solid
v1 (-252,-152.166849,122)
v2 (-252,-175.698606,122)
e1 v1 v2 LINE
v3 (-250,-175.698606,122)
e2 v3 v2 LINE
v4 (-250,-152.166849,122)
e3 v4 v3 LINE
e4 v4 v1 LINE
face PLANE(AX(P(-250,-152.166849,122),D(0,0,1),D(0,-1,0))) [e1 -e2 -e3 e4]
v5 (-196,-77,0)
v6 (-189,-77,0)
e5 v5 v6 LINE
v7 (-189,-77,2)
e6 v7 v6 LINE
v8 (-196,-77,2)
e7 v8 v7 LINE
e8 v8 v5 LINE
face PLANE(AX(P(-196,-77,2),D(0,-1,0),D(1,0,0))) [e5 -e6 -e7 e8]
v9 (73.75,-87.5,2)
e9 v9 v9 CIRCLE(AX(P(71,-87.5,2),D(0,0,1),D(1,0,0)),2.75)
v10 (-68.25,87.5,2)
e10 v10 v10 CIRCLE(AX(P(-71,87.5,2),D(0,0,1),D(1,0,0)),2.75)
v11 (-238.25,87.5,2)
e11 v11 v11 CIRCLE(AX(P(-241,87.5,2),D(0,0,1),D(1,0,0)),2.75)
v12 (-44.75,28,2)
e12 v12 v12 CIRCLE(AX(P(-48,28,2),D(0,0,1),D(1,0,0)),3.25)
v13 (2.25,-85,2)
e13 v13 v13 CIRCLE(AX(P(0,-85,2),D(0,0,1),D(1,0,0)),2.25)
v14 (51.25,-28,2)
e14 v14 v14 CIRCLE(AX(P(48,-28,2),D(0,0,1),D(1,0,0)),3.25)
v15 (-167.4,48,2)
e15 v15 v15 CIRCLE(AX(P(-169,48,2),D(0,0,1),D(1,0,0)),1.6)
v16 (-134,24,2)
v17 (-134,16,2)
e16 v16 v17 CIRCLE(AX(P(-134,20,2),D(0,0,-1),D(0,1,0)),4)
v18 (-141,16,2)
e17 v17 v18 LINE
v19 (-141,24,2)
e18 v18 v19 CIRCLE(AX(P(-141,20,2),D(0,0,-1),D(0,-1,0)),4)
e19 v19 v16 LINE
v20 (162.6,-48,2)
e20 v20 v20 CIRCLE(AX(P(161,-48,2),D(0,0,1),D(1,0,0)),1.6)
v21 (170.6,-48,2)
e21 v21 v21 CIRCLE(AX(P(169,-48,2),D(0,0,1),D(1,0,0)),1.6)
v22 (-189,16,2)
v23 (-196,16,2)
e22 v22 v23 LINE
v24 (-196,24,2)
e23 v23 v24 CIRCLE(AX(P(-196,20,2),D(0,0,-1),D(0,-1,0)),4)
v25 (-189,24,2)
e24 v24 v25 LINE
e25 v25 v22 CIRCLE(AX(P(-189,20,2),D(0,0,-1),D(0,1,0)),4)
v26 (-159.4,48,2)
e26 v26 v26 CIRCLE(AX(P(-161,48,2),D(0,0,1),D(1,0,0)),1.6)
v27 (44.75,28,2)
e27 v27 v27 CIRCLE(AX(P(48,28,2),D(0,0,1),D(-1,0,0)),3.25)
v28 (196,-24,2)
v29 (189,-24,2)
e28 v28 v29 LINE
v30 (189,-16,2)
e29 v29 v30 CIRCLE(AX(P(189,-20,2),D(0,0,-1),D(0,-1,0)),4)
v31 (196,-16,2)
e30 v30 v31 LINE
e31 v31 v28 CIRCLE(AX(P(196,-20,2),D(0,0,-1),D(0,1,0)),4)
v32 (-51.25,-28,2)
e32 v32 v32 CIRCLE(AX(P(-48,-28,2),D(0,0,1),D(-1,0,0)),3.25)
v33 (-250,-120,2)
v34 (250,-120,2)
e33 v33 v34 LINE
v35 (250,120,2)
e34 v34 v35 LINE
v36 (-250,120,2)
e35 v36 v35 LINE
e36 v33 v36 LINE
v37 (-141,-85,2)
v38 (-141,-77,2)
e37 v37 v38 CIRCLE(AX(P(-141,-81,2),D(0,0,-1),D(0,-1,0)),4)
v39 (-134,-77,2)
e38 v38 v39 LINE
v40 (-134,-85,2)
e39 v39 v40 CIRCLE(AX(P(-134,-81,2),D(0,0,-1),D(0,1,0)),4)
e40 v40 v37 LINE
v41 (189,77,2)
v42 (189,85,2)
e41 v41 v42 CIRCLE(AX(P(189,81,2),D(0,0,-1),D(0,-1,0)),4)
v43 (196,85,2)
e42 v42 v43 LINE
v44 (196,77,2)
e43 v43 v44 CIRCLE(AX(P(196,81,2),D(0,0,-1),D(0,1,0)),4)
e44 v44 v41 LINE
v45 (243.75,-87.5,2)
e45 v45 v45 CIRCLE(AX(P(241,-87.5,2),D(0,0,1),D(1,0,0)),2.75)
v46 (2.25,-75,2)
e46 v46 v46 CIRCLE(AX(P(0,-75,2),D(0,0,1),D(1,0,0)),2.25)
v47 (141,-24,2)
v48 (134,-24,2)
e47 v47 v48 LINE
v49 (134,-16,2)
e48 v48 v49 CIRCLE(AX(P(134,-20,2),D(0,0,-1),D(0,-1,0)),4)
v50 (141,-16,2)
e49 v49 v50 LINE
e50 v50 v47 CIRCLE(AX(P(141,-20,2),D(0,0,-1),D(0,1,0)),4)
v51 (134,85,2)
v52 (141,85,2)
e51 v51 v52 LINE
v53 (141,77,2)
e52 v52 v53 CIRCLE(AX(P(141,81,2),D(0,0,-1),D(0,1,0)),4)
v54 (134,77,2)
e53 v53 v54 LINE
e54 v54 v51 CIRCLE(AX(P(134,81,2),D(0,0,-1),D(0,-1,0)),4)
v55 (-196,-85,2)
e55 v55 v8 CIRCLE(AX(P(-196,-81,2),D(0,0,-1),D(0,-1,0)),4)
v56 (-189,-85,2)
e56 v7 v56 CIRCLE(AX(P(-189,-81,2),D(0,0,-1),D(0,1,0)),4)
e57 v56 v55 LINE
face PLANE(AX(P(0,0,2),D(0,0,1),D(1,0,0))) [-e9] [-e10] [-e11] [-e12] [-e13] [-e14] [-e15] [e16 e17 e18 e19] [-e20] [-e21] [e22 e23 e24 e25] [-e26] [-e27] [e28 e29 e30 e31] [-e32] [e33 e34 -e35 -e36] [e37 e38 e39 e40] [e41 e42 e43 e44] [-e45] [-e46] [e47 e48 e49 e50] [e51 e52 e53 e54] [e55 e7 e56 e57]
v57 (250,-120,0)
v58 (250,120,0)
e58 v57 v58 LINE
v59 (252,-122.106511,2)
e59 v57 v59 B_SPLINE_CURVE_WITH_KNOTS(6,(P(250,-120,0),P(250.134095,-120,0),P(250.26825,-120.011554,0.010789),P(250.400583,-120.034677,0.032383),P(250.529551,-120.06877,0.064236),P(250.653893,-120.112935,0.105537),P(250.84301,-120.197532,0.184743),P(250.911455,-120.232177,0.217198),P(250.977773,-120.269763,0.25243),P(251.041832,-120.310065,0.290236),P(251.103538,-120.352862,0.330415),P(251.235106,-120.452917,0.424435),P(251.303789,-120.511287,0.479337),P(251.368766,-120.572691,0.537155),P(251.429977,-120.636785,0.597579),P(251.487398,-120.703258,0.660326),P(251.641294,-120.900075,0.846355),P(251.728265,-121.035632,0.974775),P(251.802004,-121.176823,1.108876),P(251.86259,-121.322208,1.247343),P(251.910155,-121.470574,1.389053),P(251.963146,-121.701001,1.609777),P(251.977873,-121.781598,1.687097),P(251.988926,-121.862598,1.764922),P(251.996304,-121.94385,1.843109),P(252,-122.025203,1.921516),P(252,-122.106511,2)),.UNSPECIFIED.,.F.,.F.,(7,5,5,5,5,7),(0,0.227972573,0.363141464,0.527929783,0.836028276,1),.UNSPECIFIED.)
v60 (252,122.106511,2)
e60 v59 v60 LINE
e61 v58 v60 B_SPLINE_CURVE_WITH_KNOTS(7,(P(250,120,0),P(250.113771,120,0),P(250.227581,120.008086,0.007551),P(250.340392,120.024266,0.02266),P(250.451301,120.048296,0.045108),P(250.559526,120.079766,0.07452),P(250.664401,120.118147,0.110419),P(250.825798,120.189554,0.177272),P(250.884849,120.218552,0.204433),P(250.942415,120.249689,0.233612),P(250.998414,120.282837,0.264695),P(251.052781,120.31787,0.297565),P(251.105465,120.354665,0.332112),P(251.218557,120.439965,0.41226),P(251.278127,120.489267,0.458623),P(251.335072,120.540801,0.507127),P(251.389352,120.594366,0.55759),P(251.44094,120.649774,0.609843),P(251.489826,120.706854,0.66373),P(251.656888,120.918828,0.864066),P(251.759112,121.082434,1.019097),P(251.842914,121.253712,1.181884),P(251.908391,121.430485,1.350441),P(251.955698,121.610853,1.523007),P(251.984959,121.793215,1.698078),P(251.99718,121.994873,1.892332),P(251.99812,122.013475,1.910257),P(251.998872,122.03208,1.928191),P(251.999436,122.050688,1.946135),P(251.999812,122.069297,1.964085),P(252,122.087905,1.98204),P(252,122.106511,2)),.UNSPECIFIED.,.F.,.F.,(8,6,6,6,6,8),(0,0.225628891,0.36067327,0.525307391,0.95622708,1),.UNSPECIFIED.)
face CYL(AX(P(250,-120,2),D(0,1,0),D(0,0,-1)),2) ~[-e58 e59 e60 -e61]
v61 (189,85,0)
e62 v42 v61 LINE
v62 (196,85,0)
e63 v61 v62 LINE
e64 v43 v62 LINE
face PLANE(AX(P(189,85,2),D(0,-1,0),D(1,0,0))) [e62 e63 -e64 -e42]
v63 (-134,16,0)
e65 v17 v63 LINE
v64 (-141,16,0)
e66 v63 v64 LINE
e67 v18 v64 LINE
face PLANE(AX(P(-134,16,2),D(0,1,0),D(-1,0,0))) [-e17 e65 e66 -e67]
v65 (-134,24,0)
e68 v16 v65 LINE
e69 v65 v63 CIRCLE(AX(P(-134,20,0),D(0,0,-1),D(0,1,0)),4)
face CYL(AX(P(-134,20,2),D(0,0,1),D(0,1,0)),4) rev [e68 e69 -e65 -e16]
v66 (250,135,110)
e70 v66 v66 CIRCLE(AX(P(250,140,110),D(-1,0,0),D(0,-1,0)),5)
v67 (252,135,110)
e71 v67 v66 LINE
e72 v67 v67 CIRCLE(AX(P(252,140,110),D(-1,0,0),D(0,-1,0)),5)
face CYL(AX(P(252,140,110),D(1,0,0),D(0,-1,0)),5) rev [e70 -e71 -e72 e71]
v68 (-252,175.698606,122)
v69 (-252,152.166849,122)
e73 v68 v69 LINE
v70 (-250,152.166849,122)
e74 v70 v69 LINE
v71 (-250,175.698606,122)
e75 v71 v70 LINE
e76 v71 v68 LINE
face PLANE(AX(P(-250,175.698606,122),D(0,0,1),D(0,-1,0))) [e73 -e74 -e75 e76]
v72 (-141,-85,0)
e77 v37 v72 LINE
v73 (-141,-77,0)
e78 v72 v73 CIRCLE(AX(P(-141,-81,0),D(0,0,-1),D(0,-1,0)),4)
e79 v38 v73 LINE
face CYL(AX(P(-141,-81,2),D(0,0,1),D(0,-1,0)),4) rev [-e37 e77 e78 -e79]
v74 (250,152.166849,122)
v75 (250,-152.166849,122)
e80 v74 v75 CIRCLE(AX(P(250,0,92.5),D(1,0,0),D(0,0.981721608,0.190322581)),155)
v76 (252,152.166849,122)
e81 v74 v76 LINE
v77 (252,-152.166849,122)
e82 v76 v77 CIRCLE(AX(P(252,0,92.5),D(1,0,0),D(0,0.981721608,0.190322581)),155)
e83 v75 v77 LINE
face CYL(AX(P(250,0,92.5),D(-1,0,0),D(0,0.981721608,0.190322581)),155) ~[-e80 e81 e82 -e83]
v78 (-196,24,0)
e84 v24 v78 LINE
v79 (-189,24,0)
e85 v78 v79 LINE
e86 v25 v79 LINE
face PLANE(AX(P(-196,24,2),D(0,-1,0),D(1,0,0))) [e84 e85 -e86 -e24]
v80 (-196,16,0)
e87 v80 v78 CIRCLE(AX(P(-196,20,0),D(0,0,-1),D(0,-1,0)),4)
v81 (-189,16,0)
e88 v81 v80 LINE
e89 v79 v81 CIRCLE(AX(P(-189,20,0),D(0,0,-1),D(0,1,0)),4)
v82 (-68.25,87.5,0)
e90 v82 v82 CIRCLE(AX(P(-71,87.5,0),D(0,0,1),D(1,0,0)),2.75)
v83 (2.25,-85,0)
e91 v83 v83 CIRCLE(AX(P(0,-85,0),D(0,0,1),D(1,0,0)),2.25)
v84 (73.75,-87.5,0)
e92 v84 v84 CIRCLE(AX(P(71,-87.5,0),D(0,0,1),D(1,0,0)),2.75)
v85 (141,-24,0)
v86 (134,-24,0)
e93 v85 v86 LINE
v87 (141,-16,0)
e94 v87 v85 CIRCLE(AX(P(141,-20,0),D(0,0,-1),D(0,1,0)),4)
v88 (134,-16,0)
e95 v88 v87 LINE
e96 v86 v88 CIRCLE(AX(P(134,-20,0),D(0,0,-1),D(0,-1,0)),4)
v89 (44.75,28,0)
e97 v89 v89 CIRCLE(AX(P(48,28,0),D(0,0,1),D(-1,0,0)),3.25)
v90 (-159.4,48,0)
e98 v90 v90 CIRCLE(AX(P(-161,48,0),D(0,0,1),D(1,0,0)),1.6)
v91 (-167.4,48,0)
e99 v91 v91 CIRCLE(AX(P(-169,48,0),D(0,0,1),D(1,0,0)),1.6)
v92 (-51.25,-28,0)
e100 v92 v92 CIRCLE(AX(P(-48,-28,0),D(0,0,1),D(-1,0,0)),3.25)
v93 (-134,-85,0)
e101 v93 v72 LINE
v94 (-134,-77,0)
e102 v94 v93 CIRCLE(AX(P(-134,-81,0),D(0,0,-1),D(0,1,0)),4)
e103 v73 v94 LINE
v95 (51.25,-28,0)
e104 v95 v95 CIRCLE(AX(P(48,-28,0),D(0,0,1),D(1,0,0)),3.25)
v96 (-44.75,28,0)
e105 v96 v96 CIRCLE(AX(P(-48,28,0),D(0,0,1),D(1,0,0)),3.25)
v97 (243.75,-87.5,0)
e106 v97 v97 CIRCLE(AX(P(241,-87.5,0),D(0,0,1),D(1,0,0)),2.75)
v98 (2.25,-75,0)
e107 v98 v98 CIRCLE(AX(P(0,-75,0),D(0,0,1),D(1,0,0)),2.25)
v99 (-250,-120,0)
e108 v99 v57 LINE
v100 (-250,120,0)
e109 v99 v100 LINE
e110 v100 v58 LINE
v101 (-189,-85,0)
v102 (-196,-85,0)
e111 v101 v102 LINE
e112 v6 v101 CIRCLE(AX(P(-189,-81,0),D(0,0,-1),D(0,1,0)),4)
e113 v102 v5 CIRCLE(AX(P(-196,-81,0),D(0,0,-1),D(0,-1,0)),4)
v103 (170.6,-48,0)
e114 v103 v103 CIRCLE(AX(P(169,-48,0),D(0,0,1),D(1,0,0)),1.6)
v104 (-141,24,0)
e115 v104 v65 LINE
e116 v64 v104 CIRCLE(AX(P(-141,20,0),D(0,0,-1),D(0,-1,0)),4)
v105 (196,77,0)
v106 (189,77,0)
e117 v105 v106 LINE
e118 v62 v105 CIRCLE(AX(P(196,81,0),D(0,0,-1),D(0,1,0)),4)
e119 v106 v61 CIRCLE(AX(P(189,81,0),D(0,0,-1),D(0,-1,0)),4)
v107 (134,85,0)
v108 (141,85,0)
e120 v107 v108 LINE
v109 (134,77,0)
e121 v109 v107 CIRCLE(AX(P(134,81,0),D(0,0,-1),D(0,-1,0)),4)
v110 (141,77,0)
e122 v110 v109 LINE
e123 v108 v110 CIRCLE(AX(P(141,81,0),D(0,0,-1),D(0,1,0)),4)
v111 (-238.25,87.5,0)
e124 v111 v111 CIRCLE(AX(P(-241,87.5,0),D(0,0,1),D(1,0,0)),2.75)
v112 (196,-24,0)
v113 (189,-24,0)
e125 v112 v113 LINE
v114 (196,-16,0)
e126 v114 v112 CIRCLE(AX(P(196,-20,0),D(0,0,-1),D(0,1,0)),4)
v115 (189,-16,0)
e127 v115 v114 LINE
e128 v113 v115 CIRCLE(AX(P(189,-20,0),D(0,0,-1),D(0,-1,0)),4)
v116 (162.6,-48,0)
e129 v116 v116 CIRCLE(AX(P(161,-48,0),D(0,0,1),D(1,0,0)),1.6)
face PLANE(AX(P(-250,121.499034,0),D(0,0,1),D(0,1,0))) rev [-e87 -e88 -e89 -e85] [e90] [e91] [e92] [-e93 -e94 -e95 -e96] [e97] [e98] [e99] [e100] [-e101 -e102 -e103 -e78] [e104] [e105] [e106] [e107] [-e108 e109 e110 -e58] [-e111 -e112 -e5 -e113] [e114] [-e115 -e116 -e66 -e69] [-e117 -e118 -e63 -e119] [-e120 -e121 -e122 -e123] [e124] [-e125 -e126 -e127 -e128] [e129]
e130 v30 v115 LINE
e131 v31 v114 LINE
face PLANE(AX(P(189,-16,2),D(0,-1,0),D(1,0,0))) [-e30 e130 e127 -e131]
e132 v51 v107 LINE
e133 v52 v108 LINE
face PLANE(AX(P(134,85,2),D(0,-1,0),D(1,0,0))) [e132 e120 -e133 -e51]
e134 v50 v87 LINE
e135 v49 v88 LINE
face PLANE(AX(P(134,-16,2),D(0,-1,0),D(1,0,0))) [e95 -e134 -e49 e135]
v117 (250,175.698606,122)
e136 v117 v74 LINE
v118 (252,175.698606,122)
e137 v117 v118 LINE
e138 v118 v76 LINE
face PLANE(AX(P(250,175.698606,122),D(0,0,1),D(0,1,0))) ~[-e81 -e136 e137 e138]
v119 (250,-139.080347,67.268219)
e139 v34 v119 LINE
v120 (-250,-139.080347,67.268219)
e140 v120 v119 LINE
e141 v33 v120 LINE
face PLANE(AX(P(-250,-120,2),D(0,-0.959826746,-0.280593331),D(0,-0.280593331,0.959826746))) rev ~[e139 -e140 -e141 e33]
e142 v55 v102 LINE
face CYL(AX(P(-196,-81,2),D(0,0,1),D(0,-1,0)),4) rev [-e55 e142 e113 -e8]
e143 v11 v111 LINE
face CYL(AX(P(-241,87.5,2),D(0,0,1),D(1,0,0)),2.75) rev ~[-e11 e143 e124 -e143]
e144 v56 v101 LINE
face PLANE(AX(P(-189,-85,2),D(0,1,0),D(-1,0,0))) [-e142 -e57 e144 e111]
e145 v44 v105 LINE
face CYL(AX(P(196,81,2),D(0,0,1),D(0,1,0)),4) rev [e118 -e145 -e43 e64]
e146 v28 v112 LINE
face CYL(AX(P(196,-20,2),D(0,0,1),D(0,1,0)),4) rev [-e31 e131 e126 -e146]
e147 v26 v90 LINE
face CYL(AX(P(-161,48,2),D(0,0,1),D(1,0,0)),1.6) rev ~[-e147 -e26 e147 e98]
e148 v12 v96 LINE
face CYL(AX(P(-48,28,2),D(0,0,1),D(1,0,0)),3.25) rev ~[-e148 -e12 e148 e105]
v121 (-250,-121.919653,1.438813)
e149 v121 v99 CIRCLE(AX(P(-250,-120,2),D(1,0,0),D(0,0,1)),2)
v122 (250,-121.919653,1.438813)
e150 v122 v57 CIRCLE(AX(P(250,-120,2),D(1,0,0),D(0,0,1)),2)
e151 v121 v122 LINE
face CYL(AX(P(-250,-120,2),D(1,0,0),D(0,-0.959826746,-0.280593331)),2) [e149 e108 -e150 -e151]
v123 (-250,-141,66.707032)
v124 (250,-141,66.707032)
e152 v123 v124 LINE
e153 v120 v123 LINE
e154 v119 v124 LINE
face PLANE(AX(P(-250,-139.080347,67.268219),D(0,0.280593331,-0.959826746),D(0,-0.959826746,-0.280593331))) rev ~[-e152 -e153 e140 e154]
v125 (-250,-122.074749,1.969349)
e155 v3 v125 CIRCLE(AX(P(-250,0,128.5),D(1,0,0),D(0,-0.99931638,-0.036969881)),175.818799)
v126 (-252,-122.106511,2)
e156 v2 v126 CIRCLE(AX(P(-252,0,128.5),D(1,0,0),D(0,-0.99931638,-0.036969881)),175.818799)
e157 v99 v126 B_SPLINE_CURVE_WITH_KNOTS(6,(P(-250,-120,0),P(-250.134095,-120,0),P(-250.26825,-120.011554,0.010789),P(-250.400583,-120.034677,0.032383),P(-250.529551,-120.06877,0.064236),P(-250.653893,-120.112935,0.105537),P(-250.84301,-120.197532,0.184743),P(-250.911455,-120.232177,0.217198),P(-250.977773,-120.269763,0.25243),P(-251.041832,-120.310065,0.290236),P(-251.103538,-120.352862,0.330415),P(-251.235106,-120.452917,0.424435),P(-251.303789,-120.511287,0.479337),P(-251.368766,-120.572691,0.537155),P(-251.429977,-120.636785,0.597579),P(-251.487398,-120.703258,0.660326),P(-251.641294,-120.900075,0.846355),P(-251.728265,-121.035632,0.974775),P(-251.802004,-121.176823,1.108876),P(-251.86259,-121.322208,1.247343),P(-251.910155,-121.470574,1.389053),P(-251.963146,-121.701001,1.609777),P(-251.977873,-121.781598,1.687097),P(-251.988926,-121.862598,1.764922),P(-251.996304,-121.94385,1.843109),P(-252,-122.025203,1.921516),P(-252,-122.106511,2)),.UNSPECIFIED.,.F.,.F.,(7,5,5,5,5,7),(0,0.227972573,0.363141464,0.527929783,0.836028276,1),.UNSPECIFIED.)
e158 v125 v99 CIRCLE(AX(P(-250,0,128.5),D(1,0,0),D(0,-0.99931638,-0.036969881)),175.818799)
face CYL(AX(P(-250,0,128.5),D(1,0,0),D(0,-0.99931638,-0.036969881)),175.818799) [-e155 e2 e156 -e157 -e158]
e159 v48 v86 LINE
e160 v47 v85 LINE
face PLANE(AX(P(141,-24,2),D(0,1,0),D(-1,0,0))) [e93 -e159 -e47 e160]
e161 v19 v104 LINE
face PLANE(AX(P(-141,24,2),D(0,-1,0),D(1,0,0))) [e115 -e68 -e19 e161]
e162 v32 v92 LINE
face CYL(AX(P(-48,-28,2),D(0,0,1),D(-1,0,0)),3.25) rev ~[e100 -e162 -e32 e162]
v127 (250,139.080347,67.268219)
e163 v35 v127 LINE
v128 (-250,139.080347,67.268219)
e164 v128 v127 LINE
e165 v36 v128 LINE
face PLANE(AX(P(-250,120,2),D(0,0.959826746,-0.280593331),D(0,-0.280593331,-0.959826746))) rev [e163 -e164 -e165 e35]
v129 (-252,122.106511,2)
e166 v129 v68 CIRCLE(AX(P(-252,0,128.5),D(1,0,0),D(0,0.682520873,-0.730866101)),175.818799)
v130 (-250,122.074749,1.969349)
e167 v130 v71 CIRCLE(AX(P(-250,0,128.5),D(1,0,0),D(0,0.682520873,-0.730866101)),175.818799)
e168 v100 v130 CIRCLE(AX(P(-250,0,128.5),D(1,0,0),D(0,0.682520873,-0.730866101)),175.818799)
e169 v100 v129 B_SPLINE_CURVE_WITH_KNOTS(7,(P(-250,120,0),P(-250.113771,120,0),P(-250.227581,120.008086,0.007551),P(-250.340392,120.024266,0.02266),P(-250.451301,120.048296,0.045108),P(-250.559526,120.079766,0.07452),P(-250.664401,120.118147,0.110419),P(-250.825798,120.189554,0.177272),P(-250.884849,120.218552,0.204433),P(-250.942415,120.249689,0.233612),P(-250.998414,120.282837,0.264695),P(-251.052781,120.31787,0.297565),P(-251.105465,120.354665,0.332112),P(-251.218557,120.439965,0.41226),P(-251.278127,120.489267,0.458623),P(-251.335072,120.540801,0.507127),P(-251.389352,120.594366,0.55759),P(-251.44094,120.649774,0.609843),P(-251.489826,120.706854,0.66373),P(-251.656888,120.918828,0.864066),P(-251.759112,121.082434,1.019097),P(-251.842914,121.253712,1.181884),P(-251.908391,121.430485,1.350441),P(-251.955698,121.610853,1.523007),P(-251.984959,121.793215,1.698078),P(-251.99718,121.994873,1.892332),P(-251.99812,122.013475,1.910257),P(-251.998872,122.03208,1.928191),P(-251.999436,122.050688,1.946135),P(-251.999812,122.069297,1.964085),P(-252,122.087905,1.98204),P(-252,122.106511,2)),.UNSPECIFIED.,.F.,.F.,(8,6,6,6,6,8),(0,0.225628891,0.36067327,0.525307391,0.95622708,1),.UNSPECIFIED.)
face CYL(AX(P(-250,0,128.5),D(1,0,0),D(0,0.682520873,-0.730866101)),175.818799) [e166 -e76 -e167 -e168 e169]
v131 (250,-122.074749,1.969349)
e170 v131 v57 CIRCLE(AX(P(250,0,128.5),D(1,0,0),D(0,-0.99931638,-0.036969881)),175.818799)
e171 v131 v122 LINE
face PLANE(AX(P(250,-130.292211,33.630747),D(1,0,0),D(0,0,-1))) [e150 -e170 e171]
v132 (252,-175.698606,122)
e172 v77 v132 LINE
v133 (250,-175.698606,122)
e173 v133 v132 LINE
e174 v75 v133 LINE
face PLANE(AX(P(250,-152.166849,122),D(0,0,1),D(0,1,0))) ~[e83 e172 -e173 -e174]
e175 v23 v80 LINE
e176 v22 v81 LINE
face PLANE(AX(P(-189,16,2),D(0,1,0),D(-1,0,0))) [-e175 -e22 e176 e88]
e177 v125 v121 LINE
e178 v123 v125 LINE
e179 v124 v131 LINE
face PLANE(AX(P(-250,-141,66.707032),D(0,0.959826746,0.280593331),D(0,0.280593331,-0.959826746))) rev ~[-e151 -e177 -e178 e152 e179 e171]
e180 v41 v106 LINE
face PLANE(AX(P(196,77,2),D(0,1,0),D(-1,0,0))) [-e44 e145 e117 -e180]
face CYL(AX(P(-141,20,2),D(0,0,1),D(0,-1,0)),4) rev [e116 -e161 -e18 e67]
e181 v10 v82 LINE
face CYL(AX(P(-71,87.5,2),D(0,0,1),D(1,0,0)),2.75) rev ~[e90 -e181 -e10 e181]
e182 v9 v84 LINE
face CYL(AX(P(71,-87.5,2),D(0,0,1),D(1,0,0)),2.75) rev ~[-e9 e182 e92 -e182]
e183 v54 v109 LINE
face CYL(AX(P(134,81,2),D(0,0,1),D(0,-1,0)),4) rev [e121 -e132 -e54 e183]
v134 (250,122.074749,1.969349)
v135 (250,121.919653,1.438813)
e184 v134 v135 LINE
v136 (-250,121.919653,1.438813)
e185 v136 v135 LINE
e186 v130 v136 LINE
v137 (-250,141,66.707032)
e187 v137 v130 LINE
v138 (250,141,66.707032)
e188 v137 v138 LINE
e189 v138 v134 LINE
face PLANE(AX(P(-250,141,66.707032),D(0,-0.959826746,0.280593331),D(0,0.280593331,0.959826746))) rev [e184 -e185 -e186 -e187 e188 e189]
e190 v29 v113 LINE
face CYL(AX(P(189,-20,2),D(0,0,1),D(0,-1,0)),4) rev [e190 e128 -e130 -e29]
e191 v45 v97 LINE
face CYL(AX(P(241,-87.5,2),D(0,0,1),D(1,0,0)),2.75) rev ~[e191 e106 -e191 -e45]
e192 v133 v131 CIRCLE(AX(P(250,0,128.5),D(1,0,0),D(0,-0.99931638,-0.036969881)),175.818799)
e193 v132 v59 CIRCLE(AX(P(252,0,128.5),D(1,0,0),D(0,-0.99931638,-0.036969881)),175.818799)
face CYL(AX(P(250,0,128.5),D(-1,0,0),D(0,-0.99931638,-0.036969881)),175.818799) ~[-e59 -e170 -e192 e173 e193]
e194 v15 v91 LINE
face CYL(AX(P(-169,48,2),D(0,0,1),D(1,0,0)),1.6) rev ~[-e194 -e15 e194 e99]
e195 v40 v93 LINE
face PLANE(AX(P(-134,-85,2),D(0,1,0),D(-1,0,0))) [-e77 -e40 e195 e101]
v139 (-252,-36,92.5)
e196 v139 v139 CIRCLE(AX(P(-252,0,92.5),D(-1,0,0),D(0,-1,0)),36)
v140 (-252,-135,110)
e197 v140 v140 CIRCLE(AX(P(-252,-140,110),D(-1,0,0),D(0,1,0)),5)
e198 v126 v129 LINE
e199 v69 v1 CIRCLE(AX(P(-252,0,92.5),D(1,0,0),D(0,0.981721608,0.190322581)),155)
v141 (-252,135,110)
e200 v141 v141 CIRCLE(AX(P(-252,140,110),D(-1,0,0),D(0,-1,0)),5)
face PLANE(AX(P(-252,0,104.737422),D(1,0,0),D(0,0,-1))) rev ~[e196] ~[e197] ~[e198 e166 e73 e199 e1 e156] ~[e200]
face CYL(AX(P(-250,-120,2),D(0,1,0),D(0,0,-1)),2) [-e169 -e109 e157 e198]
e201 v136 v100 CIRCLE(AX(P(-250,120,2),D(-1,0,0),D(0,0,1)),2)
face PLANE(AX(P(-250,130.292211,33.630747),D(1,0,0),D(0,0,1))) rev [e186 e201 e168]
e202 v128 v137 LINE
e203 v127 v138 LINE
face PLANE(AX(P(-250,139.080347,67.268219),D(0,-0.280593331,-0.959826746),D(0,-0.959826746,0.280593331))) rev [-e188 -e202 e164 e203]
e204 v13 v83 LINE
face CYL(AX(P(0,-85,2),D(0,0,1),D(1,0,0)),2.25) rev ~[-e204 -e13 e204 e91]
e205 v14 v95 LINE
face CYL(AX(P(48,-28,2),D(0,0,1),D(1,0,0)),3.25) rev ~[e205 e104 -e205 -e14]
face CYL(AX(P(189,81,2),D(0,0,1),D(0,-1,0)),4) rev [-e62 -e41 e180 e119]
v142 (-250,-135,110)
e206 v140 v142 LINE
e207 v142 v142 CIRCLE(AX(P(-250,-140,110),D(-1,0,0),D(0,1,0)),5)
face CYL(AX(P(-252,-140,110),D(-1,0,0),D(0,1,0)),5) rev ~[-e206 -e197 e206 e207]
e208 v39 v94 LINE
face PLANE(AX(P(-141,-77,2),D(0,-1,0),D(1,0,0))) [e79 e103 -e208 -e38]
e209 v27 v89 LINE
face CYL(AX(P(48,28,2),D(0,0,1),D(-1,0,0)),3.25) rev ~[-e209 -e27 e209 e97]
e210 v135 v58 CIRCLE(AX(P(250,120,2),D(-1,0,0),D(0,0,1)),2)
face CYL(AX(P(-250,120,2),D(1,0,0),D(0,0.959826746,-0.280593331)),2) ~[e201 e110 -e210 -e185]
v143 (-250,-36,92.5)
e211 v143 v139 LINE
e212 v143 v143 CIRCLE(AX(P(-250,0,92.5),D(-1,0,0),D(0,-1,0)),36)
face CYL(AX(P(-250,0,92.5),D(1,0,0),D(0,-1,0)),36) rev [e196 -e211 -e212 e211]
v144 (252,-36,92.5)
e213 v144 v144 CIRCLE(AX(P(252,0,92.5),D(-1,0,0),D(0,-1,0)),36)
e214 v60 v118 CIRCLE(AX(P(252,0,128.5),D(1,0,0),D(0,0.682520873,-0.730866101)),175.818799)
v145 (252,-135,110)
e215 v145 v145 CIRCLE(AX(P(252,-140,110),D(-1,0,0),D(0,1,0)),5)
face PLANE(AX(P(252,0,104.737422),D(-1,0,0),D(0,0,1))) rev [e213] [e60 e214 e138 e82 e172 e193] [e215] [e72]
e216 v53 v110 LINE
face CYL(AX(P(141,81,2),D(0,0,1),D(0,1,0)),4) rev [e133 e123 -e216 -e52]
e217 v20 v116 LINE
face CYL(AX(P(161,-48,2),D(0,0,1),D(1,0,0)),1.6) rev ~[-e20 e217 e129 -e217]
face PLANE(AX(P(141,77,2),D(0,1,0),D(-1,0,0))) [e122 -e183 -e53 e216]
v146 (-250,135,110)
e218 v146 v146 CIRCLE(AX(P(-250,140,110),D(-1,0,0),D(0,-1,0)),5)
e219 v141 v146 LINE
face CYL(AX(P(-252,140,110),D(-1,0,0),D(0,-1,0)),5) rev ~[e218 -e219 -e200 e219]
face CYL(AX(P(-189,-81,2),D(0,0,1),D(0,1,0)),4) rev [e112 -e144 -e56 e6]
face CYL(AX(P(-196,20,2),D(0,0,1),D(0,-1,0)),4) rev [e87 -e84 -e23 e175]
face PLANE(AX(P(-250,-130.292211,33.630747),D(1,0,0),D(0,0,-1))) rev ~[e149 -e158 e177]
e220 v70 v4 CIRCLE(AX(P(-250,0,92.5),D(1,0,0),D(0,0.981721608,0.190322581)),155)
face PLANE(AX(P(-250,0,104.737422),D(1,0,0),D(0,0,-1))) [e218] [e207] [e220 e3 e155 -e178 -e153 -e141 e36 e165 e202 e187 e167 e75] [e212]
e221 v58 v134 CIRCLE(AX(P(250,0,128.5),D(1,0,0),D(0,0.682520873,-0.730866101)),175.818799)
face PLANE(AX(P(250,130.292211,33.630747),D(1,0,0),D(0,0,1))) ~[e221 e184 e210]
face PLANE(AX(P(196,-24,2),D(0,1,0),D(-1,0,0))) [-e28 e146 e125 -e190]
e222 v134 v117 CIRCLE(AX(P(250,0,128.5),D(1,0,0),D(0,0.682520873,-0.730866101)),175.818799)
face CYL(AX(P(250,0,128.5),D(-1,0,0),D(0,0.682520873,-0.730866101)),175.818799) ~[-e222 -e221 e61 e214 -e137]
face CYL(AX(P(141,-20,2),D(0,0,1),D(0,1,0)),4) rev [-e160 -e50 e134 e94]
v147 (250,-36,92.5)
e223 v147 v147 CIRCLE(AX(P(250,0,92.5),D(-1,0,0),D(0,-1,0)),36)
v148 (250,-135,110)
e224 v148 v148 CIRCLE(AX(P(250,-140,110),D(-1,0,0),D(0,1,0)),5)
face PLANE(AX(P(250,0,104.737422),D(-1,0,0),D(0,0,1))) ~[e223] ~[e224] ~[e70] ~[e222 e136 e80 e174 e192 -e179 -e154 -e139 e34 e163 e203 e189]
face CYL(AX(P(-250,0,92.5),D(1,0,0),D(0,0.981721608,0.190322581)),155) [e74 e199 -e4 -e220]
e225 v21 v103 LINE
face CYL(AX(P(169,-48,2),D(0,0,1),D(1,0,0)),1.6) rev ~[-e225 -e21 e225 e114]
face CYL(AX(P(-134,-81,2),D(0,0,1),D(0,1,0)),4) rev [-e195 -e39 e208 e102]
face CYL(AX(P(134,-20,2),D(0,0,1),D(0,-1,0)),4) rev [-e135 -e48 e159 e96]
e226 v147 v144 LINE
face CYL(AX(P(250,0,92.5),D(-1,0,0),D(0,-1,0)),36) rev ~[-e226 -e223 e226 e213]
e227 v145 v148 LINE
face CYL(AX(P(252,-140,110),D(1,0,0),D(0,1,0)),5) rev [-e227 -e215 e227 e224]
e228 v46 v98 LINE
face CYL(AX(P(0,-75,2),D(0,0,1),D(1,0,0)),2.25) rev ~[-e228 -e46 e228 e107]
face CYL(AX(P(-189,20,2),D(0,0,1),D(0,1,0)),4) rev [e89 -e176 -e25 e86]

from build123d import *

# Parameters (mm, degrees)
ESQUISSE1_W                     = 500
ESQUISSE1_H                     = 240
EXTRUSION1_DEPTH                = 2
ESQUISSE2_R                     = 36
EXTRUSION2_DEPTH                = 2
ESQUISSE3_R                     = 5
ENL_V_MAT_EXTRU_1_DEPTH         = 2
EXTRUSION3_DEPTH                = 500
CONG_1_R                        = 2
ESQUISSE5_R                     = 3.25
ENL_V_MAT_EXTRU_2_DEPTH         = 2
ENL_V_MAT_EXTRU_3_DEPTH         = 2
R_P_TITION_LIN_AIRE1_COUNT      = 2
R_P_TITION_LIN_AIRE1_PITCH      = 101
R_P_TITION_LIN_AIRE1_COUNT_DIR2 = 2
R_P_TITION_LIN_AIRE1_PITCH_DIR2 = 55
ENL_V_MAT_EXTRU_4_DEPTH         = 2
R_P_TITION_LIN_AIRE2_COUNT      = 2
R_P_TITION_LIN_AIRE2_PITCH      = 55
R_P_TITION_LIN_AIRE2_COUNT_DIR2 = 2
R_P_TITION_LIN_AIRE2_PITCH_DIR2 = 101
ESQUISSE8_R                     = 2.75
ENL_V_MAT_EXTRU_5_DEPTH         = 2
ESQUISSE9_R                     = 2.75
ENL_V_MAT_EXTRU_6_DEPTH         = 2
ESQUISSE10_R                    = 1.6
ENL_V_MAT_EXTRU_7_DEPTH         = 394.248331319
ESQUISSE11_R                    = 2.25
ENL_V_MAT_EXTRU_8_DEPTH         = 10


with BuildPart() as part:
    # Esquisse1 → Extrusion1 (new body)
    with BuildSketch(Plane.XY):
        Rectangle(ESQUISSE1_W, ESQUISSE1_H)
    extrude(amount=EXTRUSION1_DEPTH)

    # Esquisse2 → Extrusion2 (add)
    with BuildSketch(Plane.ZY.offset(250)):
        with BuildLine():
            Line((122, -152.166849215), (122, -175.698605572))
            ThreePointArc((122, -175.698605572), (55.48059391, -159.938789336), (0, -120))
            Line((0, -120), (0, 120))
            ThreePointArc((0, 120), (55.48059391, 159.938789336), (122, 175.698605572))
            Line((122, 175.698605572), (122, 152.166849215))
            ThreePointArc((122, 152.166849215), (247.5, 0), (122, -152.166849215))
        make_face()
        with Locations(Location((92.5, 0, 0), (0, 0, 270))):
            Circle(ESQUISSE2_R, mode=Mode.SUBTRACT)
    extrusion2 = extrude(amount=EXTRUSION2_DEPTH)

    # Esquisse3 → Enlèv. mat.-Extru.1 (cut)
    with BuildSketch(Plane.ZY.offset(252)):
        with Locations(Location((110, 140, 0), (0, 0, 270))):
            Circle(ESQUISSE3_R)
        with Locations(Location((110, -140, 0), (0, 0, 90))):
            Circle(ESQUISSE3_R)
    enl_v_mat_extru_1 = extrude(amount=-ENL_V_MAT_EXTRU_1_DEPTH, mode=Mode.SUBTRACT)

    # Symétrie1: Extrusion2, Enlèv. mat.-Extru.1 across plane
    add(extrusion2.mirror(Plane(origin=(0, 0, 0), x_dir=(0, 0, 1), z_dir=(1, 0, 0))))
    add(enl_v_mat_extru_1.mirror(Plane(origin=(0, 0, 0), x_dir=(0, 0, 1), z_dir=(1, 0, 0))), mode=Mode.SUBTRACT)

    # Esquisse4 → Extrusion3 (add)
    with BuildSketch(Plane(origin=(-250, 0, 0), x_dir=(0, 0, -1), z_dir=(1, 0, 0))):
        Polygon((-2, -120), (-67.268218737, -139.080346508), (-66.707032075, -141), (0, -121.499034429), (0, -120), align=None)
    extrusion3 = extrude(amount=EXTRUSION3_DEPTH)

    # Symétrie2: Extrusion3 across plane
    add(extrusion3.mirror(Plane.ZX))

    # Congé1
    cong_1_edges = [part.edges().sort_by_distance(p)[0] for p in [
        (-252, 0, 0),
        (252, 0, 0),
        (0, -121.499034429, 0),
        (0, 121.499034429, 0),
    ]]
    fillet(cong_1_edges, radius=CONG_1_R)

    # Esquisse5 → Enlèv. mat.-Extru.2 (cut)
    with BuildSketch(Plane.XY.offset(2)):
        with Locations((-48, 28)):
            Circle(ESQUISSE5_R)
        with Locations(Location((48, 28, 0), (0, 0, 180))):
            Circle(ESQUISSE5_R)
        with Locations((48, -28)):
            Circle(ESQUISSE5_R)
        with Locations(Location((-48, -28, 0), (0, 0, 180))):
            Circle(ESQUISSE5_R)
    extrude(amount=-ENL_V_MAT_EXTRU_2_DEPTH, mode=Mode.SUBTRACT)

    # Esquisse6 → Enlèv. mat.-Extru.3 (cut)
    with BuildSketch(Plane.XY.offset(2)):
        with BuildLine():
            Line((189, 85), (196, 85))
            ThreePointArc((196, 85), (200, 81), (196, 77))
            Line((196, 77), (189, 77))
            ThreePointArc((189, 77), (185, 81), (189, 85))
        make_face()
    enl_v_mat_extru_3 = extrude(amount=-ENL_V_MAT_EXTRU_3_DEPTH, mode=Mode.SUBTRACT)

    # Répétition linéaire1: Enl_v. mat.-Extru.3 2 × 2
    with Locations(*[(-j * R_P_TITION_LIN_AIRE1_PITCH_DIR2, -i * R_P_TITION_LIN_AIRE1_PITCH, 0) for i in range(R_P_TITION_LIN_AIRE1_COUNT) for j in range(R_P_TITION_LIN_AIRE1_COUNT_DIR2) if (i, j) != (0, 0)]):
        add(enl_v_mat_extru_3, mode=Mode.SUBTRACT)

    # Esquisse7 → Enlèv. mat.-Extru.4 (cut)
    with BuildSketch(Plane.XY.offset(2)):
        with BuildLine():
            Line((-196, -77), (-189, -77))
            ThreePointArc((-189, -77), (-185, -81), (-189, -85))
            Line((-189, -85), (-196, -85))
            ThreePointArc((-196, -85), (-200, -81), (-196, -77))
        make_face()
    enl_v_mat_extru_4 = extrude(amount=-ENL_V_MAT_EXTRU_4_DEPTH, mode=Mode.SUBTRACT)

    # Répétition linéaire2: Enl_v. mat.-Extru.4 2 × 2
    with Locations(*[(i * R_P_TITION_LIN_AIRE2_PITCH, j * R_P_TITION_LIN_AIRE2_PITCH_DIR2, 0) for i in range(R_P_TITION_LIN_AIRE2_COUNT) for j in range(R_P_TITION_LIN_AIRE2_COUNT_DIR2) if (i, j) != (0, 0)]):
        add(enl_v_mat_extru_4, mode=Mode.SUBTRACT)

    # Esquisse8 → Enlèv. mat.-Extru.5 (cut)
    with BuildSketch(Plane.XY.offset(2)):
        with Locations((-241, 87.5)):
            Circle(ESQUISSE8_R)
        with Locations((-71, 87.5)):
            Circle(ESQUISSE8_R)
    extrude(amount=-ENL_V_MAT_EXTRU_5_DEPTH, mode=Mode.SUBTRACT)

    # Esquisse9 → Enlèv. mat.-Extru.6 (cut)
    with BuildSketch(Plane.XY.offset(2)):
        with Locations((71, -87.5)):
            Circle(ESQUISSE9_R)
        with Locations((241, -87.5)):
            Circle(ESQUISSE9_R)
    extrude(amount=-ENL_V_MAT_EXTRU_6_DEPTH, mode=Mode.SUBTRACT)

    # Esquisse10 → Enlèv. mat.-Extru.7 (cut, through all)
    with BuildSketch(Plane.XY.offset(2)):
        with Locations((-169, 48)):
            Circle(ESQUISSE10_R)
        with Locations((-161, 48)):
            Circle(ESQUISSE10_R)
        with Locations((161, -48)):
            Circle(ESQUISSE10_R)
        with Locations((169, -48)):
            Circle(ESQUISSE10_R)
    extrude(amount=-ENL_V_MAT_EXTRU_7_DEPTH, mode=Mode.SUBTRACT)

    # Esquisse11 → Enlèv. mat.-Extru.8 (cut)
    with BuildSketch(Plane.XY.offset(2)):
        with Locations((0, -75)):
            Circle(ESQUISSE11_R)
        with Locations((0, -85)):
            Circle(ESQUISSE11_R)
    extrude(amount=-ENL_V_MAT_EXTRU_8_DEPTH, mode=Mode.SUBTRACT)


solid = part.part
